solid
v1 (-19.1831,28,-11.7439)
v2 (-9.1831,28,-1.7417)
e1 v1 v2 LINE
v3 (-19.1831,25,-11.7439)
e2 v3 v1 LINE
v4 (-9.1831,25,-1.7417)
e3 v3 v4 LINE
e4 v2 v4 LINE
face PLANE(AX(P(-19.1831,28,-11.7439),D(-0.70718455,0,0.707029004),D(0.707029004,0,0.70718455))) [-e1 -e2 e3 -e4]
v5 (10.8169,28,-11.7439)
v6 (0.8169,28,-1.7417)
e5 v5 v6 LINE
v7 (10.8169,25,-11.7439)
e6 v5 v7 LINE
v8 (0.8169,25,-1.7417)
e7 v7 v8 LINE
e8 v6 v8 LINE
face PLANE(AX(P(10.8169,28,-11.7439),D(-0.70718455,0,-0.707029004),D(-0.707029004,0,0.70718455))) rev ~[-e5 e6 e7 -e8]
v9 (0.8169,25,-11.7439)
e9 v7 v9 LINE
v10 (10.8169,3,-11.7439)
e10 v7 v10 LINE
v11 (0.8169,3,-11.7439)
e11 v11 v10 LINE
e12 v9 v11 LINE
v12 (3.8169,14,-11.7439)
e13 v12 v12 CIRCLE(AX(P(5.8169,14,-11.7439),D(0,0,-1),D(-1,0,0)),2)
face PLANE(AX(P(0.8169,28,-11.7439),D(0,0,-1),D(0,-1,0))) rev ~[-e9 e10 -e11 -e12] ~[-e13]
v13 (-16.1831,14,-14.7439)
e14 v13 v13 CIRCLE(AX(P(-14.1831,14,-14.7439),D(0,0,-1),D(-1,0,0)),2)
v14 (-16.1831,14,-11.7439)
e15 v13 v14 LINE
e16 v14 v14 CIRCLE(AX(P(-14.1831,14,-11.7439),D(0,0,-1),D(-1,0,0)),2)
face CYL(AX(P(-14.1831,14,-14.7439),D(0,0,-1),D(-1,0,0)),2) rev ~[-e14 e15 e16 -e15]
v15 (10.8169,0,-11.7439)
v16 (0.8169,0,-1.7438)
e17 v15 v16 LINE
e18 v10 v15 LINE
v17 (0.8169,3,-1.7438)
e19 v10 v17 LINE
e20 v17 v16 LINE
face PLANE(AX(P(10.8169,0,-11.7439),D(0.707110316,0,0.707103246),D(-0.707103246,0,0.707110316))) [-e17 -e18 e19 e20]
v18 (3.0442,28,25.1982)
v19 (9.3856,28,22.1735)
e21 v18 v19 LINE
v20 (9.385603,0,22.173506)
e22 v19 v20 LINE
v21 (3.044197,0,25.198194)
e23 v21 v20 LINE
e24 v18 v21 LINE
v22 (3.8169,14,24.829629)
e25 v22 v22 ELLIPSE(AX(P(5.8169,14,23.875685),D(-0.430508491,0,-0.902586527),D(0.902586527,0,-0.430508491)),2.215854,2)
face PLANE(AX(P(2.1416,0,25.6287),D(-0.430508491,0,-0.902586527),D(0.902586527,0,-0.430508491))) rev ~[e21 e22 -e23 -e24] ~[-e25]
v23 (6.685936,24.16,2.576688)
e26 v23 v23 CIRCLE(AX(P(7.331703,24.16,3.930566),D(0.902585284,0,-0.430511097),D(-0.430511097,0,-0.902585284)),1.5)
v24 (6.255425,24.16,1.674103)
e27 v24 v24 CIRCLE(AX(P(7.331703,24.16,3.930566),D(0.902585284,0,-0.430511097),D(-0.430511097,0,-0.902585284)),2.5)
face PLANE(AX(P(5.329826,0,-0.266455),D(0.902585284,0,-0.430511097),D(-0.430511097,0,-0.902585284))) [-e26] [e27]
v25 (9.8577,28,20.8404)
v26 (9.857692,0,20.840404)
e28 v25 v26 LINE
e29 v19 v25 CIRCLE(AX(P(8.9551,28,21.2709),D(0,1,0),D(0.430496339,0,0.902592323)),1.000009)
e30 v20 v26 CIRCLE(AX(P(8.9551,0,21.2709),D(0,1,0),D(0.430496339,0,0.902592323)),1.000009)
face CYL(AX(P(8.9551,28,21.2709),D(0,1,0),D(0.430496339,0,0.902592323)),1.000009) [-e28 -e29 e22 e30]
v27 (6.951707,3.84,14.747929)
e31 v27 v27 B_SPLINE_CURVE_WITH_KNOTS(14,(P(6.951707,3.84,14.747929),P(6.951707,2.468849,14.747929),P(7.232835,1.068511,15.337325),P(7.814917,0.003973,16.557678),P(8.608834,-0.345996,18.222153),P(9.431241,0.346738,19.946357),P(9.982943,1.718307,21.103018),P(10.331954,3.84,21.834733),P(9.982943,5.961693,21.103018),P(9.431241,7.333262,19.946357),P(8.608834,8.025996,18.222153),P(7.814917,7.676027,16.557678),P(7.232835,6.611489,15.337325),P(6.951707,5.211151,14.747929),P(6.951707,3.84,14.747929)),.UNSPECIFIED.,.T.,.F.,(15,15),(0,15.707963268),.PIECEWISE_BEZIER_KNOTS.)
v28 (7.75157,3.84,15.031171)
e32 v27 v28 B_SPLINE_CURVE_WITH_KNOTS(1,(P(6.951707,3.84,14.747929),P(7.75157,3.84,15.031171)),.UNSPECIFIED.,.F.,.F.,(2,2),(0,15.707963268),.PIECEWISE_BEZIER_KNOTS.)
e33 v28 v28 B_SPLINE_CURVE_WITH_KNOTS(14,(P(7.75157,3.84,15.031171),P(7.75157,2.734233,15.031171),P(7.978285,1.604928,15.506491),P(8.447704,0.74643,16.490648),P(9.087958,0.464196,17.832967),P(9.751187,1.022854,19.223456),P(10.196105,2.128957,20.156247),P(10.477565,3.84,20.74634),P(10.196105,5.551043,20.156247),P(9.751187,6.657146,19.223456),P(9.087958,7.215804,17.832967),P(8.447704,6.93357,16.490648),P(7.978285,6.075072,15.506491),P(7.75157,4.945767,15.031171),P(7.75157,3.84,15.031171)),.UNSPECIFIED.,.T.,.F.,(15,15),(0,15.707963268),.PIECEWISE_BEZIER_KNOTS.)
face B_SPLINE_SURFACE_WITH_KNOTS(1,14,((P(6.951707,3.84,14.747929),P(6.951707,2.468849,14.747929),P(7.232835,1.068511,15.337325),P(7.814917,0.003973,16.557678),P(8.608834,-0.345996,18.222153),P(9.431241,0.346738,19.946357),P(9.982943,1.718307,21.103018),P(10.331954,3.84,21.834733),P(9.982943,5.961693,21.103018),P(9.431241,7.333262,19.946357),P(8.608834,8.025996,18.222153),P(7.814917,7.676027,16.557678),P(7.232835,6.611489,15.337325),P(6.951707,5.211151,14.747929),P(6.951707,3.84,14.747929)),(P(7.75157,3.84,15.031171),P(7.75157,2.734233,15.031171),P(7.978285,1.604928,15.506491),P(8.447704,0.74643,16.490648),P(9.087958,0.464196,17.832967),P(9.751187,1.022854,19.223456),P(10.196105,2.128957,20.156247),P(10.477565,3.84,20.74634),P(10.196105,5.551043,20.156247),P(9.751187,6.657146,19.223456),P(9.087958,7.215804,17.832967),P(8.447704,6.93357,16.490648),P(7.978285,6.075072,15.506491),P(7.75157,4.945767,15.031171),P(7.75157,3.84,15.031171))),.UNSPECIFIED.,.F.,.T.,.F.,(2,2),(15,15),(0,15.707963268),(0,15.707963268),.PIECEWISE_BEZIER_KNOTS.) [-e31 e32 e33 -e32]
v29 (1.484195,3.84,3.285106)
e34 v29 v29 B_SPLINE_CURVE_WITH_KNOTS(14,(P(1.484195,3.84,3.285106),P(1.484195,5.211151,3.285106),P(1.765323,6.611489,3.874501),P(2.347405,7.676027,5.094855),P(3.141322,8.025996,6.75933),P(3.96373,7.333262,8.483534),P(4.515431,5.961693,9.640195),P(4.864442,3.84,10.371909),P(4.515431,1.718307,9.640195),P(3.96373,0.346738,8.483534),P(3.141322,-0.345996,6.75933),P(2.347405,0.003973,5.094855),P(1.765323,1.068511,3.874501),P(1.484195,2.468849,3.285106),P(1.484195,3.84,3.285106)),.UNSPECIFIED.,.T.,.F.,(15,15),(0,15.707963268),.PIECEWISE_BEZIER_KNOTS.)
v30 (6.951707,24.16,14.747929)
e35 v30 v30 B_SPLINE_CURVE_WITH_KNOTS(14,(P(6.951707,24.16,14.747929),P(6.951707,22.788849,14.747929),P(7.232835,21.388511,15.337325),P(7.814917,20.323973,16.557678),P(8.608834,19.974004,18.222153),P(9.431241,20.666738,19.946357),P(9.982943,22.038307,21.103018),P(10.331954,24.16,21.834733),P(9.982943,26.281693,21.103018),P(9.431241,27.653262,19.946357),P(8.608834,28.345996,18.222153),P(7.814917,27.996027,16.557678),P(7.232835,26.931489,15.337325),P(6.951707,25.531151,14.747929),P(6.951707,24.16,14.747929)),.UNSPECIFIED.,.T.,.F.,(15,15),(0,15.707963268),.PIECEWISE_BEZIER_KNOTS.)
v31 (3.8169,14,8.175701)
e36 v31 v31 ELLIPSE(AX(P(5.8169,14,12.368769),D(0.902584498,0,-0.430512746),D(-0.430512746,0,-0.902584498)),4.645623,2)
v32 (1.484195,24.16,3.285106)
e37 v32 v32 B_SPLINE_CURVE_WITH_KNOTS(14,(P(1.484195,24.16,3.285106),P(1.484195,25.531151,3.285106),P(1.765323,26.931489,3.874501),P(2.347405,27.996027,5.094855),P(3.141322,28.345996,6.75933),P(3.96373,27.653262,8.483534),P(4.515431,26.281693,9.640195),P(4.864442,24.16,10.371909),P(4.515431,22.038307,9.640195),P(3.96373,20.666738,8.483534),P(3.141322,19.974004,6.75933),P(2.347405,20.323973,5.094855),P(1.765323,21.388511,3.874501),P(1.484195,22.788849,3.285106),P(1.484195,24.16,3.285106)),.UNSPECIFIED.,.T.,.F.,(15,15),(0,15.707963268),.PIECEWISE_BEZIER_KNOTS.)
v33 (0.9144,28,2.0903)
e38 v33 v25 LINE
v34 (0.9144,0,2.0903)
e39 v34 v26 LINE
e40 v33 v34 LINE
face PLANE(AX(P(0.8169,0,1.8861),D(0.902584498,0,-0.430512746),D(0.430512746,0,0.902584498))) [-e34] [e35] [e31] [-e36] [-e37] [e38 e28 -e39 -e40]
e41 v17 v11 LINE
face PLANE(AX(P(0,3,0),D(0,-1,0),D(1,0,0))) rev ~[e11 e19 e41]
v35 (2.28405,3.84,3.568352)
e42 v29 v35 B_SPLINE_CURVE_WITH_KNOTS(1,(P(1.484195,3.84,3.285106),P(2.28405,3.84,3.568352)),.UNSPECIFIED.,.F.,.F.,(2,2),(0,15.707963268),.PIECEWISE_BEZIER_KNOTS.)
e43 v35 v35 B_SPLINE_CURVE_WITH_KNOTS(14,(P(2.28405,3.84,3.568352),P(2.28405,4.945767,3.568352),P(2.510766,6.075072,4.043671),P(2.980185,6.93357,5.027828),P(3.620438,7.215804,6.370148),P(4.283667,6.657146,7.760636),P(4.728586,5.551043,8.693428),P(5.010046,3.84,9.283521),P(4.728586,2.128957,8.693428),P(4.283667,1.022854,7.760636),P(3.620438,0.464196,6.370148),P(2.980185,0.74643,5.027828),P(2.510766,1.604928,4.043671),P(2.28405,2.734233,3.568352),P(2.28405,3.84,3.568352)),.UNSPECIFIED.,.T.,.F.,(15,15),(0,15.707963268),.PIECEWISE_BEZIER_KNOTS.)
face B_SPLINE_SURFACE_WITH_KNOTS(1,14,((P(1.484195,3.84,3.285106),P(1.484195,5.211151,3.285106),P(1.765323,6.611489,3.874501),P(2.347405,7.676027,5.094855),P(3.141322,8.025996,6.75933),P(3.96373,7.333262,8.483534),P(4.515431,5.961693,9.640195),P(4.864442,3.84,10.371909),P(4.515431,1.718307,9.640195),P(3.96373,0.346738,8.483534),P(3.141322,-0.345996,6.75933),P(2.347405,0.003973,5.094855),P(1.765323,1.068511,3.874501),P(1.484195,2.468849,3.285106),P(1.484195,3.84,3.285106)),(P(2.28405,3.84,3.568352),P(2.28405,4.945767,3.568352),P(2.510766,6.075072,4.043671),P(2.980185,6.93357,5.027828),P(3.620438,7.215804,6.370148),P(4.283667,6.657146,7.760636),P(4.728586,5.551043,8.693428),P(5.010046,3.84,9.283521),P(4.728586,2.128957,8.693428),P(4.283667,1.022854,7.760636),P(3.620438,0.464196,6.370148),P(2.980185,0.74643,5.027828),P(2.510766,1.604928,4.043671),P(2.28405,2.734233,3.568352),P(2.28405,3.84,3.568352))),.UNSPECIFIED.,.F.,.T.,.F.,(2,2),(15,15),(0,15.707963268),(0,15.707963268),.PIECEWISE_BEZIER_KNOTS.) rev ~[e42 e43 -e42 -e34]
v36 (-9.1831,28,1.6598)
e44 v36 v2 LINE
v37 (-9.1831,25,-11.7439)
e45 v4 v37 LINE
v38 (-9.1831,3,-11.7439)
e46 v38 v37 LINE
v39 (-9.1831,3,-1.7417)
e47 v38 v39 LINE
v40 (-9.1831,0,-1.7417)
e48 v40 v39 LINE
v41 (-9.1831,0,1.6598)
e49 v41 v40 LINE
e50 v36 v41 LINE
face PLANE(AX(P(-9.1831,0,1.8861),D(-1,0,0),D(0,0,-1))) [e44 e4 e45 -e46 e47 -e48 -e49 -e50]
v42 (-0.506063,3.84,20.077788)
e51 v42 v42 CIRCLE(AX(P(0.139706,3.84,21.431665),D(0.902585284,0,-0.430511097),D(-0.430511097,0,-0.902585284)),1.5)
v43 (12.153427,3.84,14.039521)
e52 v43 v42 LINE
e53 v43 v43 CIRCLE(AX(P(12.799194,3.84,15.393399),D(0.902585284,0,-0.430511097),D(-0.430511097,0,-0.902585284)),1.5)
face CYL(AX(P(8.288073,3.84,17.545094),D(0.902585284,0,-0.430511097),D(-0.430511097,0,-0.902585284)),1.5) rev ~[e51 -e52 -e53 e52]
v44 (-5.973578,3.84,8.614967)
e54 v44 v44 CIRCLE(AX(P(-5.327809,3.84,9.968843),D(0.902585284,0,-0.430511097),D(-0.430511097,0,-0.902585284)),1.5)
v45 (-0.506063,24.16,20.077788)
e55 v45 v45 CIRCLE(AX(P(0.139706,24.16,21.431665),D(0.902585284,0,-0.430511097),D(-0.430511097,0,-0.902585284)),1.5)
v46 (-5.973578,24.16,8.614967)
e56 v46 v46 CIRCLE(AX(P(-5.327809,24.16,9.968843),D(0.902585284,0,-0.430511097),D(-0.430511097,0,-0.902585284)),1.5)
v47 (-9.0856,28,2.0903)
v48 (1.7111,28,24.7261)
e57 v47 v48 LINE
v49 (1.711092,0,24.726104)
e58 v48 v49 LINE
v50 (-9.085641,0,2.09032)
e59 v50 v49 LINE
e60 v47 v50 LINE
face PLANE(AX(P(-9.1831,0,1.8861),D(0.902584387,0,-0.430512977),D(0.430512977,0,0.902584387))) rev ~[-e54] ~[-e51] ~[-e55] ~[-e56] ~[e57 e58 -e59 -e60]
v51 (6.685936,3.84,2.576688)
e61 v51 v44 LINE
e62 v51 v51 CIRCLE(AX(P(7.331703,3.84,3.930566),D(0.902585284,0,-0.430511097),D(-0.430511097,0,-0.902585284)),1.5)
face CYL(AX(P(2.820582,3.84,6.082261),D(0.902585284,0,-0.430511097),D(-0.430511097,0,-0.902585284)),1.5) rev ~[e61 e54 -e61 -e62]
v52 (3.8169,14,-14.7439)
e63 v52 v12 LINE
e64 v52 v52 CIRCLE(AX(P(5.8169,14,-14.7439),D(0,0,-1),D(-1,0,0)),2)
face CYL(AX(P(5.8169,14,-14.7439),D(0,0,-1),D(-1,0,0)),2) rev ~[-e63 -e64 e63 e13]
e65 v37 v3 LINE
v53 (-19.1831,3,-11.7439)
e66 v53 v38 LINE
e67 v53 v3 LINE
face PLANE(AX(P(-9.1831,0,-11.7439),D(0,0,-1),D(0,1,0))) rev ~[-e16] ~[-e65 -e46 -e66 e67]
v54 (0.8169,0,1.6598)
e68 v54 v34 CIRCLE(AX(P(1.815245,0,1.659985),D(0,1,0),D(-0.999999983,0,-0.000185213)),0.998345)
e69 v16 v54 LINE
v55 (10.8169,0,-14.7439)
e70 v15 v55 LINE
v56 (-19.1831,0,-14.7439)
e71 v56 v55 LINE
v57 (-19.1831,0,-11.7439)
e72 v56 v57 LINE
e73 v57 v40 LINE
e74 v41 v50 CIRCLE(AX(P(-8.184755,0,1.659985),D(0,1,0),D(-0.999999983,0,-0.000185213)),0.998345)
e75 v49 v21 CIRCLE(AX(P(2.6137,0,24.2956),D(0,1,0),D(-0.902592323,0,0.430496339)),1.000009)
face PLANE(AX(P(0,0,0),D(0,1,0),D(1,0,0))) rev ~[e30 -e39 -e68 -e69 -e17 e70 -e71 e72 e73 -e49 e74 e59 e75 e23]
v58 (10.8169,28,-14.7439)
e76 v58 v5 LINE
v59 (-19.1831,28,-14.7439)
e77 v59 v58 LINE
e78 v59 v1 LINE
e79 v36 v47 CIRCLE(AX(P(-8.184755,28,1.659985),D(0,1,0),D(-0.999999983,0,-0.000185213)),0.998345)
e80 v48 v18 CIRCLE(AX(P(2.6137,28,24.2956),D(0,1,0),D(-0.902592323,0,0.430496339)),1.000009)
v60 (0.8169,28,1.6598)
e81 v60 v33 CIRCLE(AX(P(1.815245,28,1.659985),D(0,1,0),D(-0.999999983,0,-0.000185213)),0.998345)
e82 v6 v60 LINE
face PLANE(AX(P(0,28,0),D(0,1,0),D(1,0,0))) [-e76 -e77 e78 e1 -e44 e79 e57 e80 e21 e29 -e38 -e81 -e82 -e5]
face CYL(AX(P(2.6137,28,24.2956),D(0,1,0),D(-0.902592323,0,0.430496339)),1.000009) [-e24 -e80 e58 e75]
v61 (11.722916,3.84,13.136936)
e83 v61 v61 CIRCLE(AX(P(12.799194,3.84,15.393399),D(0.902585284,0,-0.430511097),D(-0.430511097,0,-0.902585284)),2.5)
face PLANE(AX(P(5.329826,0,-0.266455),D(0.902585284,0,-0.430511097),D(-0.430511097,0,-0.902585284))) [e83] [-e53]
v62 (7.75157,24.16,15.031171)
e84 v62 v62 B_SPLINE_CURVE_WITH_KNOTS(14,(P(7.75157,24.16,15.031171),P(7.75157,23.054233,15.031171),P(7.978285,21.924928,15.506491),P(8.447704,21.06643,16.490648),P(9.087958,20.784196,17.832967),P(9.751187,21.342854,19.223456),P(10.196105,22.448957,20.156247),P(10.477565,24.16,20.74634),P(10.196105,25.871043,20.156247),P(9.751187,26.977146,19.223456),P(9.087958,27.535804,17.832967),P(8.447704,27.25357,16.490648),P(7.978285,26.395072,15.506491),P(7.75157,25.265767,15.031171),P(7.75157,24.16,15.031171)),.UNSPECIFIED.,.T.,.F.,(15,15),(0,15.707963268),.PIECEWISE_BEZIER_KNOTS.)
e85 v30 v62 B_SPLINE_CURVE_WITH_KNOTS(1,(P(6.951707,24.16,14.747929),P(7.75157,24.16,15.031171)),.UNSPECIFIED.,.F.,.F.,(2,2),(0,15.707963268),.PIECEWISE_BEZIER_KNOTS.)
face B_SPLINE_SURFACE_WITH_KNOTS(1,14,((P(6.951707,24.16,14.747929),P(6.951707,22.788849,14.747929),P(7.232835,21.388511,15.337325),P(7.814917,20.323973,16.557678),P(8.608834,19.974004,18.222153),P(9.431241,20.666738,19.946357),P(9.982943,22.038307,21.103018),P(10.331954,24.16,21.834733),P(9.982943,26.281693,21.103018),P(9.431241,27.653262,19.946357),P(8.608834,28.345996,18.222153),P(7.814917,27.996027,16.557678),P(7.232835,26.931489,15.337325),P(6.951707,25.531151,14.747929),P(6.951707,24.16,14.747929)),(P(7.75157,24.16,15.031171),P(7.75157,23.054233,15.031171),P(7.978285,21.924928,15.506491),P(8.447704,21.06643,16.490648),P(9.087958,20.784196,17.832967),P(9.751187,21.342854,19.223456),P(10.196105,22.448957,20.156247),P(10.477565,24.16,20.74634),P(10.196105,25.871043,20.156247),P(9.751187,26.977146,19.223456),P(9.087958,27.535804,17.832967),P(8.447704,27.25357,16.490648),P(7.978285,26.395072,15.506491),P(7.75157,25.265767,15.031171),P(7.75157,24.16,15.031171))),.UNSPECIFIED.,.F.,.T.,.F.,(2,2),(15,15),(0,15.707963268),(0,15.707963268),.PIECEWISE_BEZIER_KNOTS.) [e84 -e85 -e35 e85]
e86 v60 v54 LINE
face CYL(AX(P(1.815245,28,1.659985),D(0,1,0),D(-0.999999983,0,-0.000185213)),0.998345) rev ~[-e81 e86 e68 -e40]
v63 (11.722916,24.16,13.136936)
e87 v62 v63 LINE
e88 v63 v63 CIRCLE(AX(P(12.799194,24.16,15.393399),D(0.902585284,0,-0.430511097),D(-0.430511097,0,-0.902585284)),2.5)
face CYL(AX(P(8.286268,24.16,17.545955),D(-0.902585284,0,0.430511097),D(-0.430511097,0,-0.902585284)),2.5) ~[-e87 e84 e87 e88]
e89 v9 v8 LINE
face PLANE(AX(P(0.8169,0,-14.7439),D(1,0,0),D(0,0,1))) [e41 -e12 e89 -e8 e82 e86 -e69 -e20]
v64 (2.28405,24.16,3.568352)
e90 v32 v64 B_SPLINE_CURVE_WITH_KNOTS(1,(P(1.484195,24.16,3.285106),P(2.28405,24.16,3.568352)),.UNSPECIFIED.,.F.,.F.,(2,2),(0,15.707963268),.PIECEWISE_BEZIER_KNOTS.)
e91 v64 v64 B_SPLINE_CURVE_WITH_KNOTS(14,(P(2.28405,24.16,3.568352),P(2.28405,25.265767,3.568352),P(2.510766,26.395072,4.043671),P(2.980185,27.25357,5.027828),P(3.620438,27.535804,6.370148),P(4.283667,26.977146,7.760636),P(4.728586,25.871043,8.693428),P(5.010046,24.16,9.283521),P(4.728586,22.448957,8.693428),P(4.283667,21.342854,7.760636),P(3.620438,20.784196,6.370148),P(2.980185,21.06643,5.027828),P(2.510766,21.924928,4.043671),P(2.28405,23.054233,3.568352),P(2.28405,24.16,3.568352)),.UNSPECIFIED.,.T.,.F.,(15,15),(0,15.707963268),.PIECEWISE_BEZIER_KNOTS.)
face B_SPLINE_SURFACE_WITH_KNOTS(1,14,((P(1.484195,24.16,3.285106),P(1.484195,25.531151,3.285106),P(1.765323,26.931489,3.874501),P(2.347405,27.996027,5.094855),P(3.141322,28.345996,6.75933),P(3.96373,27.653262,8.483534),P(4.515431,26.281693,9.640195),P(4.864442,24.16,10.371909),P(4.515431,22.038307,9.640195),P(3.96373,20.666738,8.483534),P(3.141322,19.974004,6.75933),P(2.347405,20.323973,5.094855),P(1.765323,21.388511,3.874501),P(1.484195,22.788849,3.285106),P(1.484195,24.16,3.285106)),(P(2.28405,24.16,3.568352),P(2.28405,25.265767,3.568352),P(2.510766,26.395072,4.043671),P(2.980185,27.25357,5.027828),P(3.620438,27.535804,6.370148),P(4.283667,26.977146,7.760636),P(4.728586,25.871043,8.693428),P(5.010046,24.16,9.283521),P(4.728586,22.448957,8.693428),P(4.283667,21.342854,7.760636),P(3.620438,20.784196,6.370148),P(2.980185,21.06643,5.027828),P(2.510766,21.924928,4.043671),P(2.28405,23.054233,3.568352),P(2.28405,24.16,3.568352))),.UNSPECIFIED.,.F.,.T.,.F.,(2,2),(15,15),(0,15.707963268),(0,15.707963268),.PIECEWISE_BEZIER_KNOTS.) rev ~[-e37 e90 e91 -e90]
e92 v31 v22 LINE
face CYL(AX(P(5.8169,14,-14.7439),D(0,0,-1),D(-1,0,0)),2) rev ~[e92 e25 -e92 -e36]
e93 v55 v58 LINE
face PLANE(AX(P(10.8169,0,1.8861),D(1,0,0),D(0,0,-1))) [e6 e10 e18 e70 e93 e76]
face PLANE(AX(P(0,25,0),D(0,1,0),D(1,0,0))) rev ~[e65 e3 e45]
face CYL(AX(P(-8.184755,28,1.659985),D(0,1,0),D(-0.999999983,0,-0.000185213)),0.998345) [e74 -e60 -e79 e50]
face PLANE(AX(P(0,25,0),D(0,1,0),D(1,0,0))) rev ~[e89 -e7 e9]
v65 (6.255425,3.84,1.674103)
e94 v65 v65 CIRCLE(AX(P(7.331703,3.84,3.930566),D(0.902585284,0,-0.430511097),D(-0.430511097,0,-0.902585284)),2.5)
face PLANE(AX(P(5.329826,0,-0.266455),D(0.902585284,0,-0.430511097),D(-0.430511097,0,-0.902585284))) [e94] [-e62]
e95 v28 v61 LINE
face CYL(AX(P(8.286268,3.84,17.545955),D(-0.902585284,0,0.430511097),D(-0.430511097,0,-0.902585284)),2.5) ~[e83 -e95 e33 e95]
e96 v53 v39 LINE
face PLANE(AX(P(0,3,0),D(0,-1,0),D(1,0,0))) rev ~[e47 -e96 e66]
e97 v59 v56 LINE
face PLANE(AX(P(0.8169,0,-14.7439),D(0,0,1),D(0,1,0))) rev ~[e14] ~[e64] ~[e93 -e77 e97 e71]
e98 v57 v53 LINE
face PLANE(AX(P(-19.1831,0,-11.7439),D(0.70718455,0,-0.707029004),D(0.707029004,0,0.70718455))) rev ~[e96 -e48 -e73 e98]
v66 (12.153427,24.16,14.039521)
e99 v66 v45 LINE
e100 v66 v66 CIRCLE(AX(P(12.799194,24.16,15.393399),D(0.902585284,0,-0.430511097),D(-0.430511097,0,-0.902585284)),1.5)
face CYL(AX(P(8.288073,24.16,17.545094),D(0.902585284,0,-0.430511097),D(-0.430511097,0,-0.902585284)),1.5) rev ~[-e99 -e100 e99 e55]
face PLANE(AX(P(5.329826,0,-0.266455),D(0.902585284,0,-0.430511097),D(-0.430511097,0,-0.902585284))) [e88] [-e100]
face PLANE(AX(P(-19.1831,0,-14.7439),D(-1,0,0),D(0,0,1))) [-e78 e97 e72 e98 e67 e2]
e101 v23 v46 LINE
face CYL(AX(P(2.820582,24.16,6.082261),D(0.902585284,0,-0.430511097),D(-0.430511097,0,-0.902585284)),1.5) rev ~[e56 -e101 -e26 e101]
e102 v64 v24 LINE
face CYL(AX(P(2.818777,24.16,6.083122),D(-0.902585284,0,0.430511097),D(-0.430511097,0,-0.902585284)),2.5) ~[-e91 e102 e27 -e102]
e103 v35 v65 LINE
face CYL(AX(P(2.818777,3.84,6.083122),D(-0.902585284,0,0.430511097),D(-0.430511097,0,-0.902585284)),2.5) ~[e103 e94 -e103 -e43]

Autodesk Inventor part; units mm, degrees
ref_plane "YZ-Ebene" through (0, 0, 0) normal (1, 0, 0) x (0, 1, 0)
ref_plane "XZ-Ebene" through (0, 0, 0) normal (0, 1, 0) x (-1, 0, 0)
ref_plane "XY-Ebene" through (0, 0, 0) normal (0, 0, 1) x (1, 0, 0)
sketch "Skizze1" plane through (0, 0, 0) normal (0, 1, 0) x (-1, 0, 0)
  line L0 (-0.8169, 1.8861) -> (9.1831, 1.8861)
  line L1 (9.1831, 1.8861) -> (9.1831, -14.7439)
  line L2 (9.1831, -14.7439) -> (-0.8169, -14.7439)
  line L3 (-0.8169, -14.7439) -> (-0.8169, 1.8861)
  line L4 (-0.8169, 1.8861) -> (-10.2882, 21.743)
  line L5 (9.1831, 14.3218) -> (9.1831, 1.8861)
  line L6 (9.1831, 1.8861) -> (-2.1416, 25.6287)
  line L7 (-2.1416, 25.6287) -> (-10.2882, 21.743)
  point P0 (-5.5526, 11.8145)
  point P1 (9.1831, -3.6782)
  dimension "d23" = 154.5
  dimension "d24" = 10
  dimension "d25" = 22
  dimension "d26" = 16.63
  dimension "d27" = 9.9284
extrude "Extrusion3" add sketch "Skizze1" along normal blind 28
sketch "Skizze4" plane through (0.8169, 0, 1.8861) normal (0.9026, 0, -0.4305) x (-0.4305, 0, -0.9026)
  circle A0 centre (-4.65, 24.16) radius 2.5
  circle A1 centre (-4.65, 3.84) radius 2.5
  circle A2 centre (-17.35, 3.84) radius 2.5
  circle A3 centre (-17.35, 24.16) radius 2.5
  line L0 (-22, 28) -> (0, 28) projected
  line L1 (-22, 0) -> (-22, 28) projected
  line L2 (0, 0) -> (0, 28) projected
  circle A4 centre (-4.65, 24.16) radius 1.5
  circle A5 centre (-4.65, 3.84) radius 1.5
  circle A6 centre (-17.35, 3.84) radius 1.5
  circle A7 centre (-17.35, 24.16) radius 1.5
  point P0 (2.0541, 0)
  dimension "d35" = 5
  dimension "d36" = 5
  dimension "d37" = 5
  dimension "d38" = 5
  dimension "d39" = 20.32
  dimension "d40" = 20.32
  dimension "d41" = 12.7
  dimension "d42" = 12.7
  dimension "d43" = 3.84
  dimension "d45" = 4.65
  dimension "d46" = 4.65
  dimension "d47" = 3.84
  dimension "d48" = 3
  dimension "d49" = 3
  dimension "d50" = 3
  dimension "d51" = 3
extrude "Extrusion4" add sketch "Skizze4" along normal blind 5
extrude "Extrusion5" cut sketch "Skizze4" against normal blind 10 contours A4 | A5 | A6 | A7
sketch "Skizze6" plane through (-9.1831, 0, -14.7439) normal (-1, 0, 0) x (0, 0, 1)
  line L0 (0, 0) -> (16.63, 0) projected
  line L1 (0, 28) -> (16.63, 28) projected
  line L2 (0, 0) -> (3, 0)
  line L3 (3, 0) -> (3, 28)
  line L4 (3, 28) -> (0, 28)
  line L5 (0, 28) -> (0, 0)
  point P0 (14.7439, 0)
  point P1 (36.0154, 0)
  point P2 (36.0154, 28)
  point P3 (3, 0)
  dimension "d56" = 3
extrude "Extrusion6" add sketch "Skizze6" along normal blind 10
sketch "Skizze7" plane through (0.8169, 0, 1.8861) normal (1, 0, 0) x (0, 0, -1)
  line L0 (16.63, 0) -> (16.63, 28) projected
  line L1 (0, 0) -> (16.63, 0) projected
  line L2 (16.63, 28) -> (13.63, 28)
  line L3 (13.63, 28) -> (13.63, 0)
  line L4 (13.63, 0) -> (16.63, 0)
  line L5 (16.63, 0) -> (16.63, 28)
  point P0 (1.8861, 0)
  dimension "d59" = 3
extrude "Extrusion7" add sketch "Skizze7" along normal blind 10
sketch "Skizze8" plane through (0, 0, 0) normal (0, -1, 0) x (1, 0, 0)
  line L0 (0.8169, -11.7439) -> (10.8169, -11.7439) projected
  line L1 (10.8169, -11.7439) -> (0.8148, -1.7417)
  line L2 (10.8169, -11.7439) -> (24.9621, -11.7439) construction
  line L3 (-9.1831, -11.7439) -> (-19.1831, -11.7439) projected
  line L4 (-19.1831, -11.7439) -> (-9.1831, -1.7417)
  line L5 (-9.1831, -11.7439) -> (-9.1831, 1.8861) projected
  line L6 (10.8169, -14.7439) -> (10.8169, -11.7439) projected
  line L7 (10.8169, -11.7439) -> (-19.1831, -11.7439)
  line L8 (-9.1831, -1.7417) -> (0.8148, -1.7417)
  point P0 (0, 0)
  point P1 (-9.1831, 3.2715)
  point P2 (-9.1831, -11.7439)
  dimension "d62" = 135
extrude "Extrusion8" add sketch "Skizze8" against normal blind 3
sketch "Skizze9" plane through (0, 28, 0) normal (0, 1, 0) x (1, 0, 0)
  line L0 (-9.1831, 11.7439) -> (-19.1831, 11.7439) projected
  line L1 (-19.1831, 11.7439) -> (-9.1831, 1.7417)
  line L2 (-9.1831, 1.7417) -> (0.8169, 1.7417)
  line L3 (0.8169, -1.8861) -> (0.8169, 11.7439) projected
  line L4 (10.8169, 14.7439) -> (10.8169, 11.7439) projected
  line L5 (10.8169, 11.7439) -> (0.8169, 1.7417)
  line L6 (-19.1831, 11.7439) -> (10.8169, 11.7439)
  point P0 (0, 0)
  point P1 (-9.1831, 11.7439)
extrude "Extrusion9" add sketch "Skizze9" against normal blind 3
sketch "Skizze10" plane through (-19.1831, 0, -14.7439) normal (0, 0, -1) x (-1, 0, 0)
  circle A0 centre (-5, 14) radius 2
  circle A1 centre (-25, 14) radius 2
  line L0 (0, 28) -> (0, 0) projected
  line L1 (-30, 0) -> (-30, 28) projected
  line L2 (0, 0) -> (-30, 0) projected
  point P0 (-19.1831, 0)
  dimension "d67" = 4
  dimension "d68" = 4
  dimension "d69" = 5
  dimension "d70" = 5
  dimension "d71" = 14
  dimension "d72" = 14
extrude "Extrusion10" cut sketch "Skizze10" against normal blind 50
sketch "Skizze11" plane through (0, 28, 0) normal (0, 1, 0) x (1, 0, 0)
  line L0 (10.8169, 14.7439) -> (10.8169, 11.7439) projected
  line L1 (-19.1831, 14.7439) -> (10.8169, 14.7439) projected
  line L2 (-19.1831, 11.7439) -> (-19.1831, 14.7439) projected
  line L3 (-19.1831, 11.7439) -> (-9.1831, 1.7417) projected
  line L4 (-9.1831, 1.7417) -> (-9.1831, -1.8861) projected
  line L5 (-9.1831, -1.8861) -> (2.1416, -25.6287) projected
  line L6 (2.1416, -25.6287) -> (10.2882, -21.743) projected
  line L7 (10.2882, -21.743) -> (0.8169, -1.8861) projected
  line L8 (0.8169, -1.8861) -> (0.8169, 1.7417) projected
  line L9 (0.8169, 1.7417) -> (10.8169, 11.7439) projected
  line L10 (-9.1831, 1.7417) -> (-9.1831, -1.8861) projected
  line L11 (-9.1831, -1.8861) -> (2.1416, -25.6287) projected
  line L12 (-9.1831, 1.7417) -> (-9.1831, -1.6598)
  line L13 (-9.0856, -2.0903) -> (1.7111, -24.7261)
  line L14 (2.1416, -25.6287) -> (10.2882, -21.743) projected
  line L15 (3.0442, -25.1982) -> (9.3856, -22.1735)
  line L16 (0.8169, -1.8861) -> (0.8169, 1.7417) projected
  line L17 (0.8169, 19.7417) -> (0.8169, -1.6598)
  line L18 (0.9144, -2.0903) -> (9.8577, -20.8404)
  arc A0 (-9.1831, -1.6598) -> (-9.0856, -2.0903) centre (-8.1831, -1.6598) ccw
  arc A1 (1.7111, -24.7261) -> (3.0442, -25.1982) centre (2.6137, -24.2956) ccw
  arc A2 (9.3856, -22.1735) -> (9.8577, -20.8404) centre (8.9551, -21.2709) ccw
  arc A3 (0.8169, -1.6598) -> (0.9144, -2.0903) centre (1.8169, -1.6598) ccw
  point P0 (0, 0)
  point P1 (9.3856, -22.1735)
  point P2 (3.0442, -25.1982)
  point P3 (1.7111, -24.7261)
  point P4 (-9.1831, -1.6598)
  point P5 (0.9144, -2.0903)
  point P6 (0.8169, -1.6598)
  dimension "d75" = 1
  dimension "d76" = 1
extrude "Extrusion11" cut sketch "Skizze11" against normal blind 30 contours L7 L6 A2 | A0 L5 L4 | L6 L5 A1
extrude "Extrusion12" add sketch "Skizze11" against normal blind 28 contours A3 L7 L8
chamfer "Fase3" distance 0.6 angle 45 1 edges at (9.3626, 24.16, 19.8024)
chamfer "Fase4" distance 0.6 angle 45 1 edges at (9.3626, 3.84, 19.8024)
chamfer "Fase5" distance 0.6 angle 45 2 edges at (3.8951, 24.16, 8.3396) (3.8951, 3.84, 8.3396)
properties part number "ir_camera_mount"
